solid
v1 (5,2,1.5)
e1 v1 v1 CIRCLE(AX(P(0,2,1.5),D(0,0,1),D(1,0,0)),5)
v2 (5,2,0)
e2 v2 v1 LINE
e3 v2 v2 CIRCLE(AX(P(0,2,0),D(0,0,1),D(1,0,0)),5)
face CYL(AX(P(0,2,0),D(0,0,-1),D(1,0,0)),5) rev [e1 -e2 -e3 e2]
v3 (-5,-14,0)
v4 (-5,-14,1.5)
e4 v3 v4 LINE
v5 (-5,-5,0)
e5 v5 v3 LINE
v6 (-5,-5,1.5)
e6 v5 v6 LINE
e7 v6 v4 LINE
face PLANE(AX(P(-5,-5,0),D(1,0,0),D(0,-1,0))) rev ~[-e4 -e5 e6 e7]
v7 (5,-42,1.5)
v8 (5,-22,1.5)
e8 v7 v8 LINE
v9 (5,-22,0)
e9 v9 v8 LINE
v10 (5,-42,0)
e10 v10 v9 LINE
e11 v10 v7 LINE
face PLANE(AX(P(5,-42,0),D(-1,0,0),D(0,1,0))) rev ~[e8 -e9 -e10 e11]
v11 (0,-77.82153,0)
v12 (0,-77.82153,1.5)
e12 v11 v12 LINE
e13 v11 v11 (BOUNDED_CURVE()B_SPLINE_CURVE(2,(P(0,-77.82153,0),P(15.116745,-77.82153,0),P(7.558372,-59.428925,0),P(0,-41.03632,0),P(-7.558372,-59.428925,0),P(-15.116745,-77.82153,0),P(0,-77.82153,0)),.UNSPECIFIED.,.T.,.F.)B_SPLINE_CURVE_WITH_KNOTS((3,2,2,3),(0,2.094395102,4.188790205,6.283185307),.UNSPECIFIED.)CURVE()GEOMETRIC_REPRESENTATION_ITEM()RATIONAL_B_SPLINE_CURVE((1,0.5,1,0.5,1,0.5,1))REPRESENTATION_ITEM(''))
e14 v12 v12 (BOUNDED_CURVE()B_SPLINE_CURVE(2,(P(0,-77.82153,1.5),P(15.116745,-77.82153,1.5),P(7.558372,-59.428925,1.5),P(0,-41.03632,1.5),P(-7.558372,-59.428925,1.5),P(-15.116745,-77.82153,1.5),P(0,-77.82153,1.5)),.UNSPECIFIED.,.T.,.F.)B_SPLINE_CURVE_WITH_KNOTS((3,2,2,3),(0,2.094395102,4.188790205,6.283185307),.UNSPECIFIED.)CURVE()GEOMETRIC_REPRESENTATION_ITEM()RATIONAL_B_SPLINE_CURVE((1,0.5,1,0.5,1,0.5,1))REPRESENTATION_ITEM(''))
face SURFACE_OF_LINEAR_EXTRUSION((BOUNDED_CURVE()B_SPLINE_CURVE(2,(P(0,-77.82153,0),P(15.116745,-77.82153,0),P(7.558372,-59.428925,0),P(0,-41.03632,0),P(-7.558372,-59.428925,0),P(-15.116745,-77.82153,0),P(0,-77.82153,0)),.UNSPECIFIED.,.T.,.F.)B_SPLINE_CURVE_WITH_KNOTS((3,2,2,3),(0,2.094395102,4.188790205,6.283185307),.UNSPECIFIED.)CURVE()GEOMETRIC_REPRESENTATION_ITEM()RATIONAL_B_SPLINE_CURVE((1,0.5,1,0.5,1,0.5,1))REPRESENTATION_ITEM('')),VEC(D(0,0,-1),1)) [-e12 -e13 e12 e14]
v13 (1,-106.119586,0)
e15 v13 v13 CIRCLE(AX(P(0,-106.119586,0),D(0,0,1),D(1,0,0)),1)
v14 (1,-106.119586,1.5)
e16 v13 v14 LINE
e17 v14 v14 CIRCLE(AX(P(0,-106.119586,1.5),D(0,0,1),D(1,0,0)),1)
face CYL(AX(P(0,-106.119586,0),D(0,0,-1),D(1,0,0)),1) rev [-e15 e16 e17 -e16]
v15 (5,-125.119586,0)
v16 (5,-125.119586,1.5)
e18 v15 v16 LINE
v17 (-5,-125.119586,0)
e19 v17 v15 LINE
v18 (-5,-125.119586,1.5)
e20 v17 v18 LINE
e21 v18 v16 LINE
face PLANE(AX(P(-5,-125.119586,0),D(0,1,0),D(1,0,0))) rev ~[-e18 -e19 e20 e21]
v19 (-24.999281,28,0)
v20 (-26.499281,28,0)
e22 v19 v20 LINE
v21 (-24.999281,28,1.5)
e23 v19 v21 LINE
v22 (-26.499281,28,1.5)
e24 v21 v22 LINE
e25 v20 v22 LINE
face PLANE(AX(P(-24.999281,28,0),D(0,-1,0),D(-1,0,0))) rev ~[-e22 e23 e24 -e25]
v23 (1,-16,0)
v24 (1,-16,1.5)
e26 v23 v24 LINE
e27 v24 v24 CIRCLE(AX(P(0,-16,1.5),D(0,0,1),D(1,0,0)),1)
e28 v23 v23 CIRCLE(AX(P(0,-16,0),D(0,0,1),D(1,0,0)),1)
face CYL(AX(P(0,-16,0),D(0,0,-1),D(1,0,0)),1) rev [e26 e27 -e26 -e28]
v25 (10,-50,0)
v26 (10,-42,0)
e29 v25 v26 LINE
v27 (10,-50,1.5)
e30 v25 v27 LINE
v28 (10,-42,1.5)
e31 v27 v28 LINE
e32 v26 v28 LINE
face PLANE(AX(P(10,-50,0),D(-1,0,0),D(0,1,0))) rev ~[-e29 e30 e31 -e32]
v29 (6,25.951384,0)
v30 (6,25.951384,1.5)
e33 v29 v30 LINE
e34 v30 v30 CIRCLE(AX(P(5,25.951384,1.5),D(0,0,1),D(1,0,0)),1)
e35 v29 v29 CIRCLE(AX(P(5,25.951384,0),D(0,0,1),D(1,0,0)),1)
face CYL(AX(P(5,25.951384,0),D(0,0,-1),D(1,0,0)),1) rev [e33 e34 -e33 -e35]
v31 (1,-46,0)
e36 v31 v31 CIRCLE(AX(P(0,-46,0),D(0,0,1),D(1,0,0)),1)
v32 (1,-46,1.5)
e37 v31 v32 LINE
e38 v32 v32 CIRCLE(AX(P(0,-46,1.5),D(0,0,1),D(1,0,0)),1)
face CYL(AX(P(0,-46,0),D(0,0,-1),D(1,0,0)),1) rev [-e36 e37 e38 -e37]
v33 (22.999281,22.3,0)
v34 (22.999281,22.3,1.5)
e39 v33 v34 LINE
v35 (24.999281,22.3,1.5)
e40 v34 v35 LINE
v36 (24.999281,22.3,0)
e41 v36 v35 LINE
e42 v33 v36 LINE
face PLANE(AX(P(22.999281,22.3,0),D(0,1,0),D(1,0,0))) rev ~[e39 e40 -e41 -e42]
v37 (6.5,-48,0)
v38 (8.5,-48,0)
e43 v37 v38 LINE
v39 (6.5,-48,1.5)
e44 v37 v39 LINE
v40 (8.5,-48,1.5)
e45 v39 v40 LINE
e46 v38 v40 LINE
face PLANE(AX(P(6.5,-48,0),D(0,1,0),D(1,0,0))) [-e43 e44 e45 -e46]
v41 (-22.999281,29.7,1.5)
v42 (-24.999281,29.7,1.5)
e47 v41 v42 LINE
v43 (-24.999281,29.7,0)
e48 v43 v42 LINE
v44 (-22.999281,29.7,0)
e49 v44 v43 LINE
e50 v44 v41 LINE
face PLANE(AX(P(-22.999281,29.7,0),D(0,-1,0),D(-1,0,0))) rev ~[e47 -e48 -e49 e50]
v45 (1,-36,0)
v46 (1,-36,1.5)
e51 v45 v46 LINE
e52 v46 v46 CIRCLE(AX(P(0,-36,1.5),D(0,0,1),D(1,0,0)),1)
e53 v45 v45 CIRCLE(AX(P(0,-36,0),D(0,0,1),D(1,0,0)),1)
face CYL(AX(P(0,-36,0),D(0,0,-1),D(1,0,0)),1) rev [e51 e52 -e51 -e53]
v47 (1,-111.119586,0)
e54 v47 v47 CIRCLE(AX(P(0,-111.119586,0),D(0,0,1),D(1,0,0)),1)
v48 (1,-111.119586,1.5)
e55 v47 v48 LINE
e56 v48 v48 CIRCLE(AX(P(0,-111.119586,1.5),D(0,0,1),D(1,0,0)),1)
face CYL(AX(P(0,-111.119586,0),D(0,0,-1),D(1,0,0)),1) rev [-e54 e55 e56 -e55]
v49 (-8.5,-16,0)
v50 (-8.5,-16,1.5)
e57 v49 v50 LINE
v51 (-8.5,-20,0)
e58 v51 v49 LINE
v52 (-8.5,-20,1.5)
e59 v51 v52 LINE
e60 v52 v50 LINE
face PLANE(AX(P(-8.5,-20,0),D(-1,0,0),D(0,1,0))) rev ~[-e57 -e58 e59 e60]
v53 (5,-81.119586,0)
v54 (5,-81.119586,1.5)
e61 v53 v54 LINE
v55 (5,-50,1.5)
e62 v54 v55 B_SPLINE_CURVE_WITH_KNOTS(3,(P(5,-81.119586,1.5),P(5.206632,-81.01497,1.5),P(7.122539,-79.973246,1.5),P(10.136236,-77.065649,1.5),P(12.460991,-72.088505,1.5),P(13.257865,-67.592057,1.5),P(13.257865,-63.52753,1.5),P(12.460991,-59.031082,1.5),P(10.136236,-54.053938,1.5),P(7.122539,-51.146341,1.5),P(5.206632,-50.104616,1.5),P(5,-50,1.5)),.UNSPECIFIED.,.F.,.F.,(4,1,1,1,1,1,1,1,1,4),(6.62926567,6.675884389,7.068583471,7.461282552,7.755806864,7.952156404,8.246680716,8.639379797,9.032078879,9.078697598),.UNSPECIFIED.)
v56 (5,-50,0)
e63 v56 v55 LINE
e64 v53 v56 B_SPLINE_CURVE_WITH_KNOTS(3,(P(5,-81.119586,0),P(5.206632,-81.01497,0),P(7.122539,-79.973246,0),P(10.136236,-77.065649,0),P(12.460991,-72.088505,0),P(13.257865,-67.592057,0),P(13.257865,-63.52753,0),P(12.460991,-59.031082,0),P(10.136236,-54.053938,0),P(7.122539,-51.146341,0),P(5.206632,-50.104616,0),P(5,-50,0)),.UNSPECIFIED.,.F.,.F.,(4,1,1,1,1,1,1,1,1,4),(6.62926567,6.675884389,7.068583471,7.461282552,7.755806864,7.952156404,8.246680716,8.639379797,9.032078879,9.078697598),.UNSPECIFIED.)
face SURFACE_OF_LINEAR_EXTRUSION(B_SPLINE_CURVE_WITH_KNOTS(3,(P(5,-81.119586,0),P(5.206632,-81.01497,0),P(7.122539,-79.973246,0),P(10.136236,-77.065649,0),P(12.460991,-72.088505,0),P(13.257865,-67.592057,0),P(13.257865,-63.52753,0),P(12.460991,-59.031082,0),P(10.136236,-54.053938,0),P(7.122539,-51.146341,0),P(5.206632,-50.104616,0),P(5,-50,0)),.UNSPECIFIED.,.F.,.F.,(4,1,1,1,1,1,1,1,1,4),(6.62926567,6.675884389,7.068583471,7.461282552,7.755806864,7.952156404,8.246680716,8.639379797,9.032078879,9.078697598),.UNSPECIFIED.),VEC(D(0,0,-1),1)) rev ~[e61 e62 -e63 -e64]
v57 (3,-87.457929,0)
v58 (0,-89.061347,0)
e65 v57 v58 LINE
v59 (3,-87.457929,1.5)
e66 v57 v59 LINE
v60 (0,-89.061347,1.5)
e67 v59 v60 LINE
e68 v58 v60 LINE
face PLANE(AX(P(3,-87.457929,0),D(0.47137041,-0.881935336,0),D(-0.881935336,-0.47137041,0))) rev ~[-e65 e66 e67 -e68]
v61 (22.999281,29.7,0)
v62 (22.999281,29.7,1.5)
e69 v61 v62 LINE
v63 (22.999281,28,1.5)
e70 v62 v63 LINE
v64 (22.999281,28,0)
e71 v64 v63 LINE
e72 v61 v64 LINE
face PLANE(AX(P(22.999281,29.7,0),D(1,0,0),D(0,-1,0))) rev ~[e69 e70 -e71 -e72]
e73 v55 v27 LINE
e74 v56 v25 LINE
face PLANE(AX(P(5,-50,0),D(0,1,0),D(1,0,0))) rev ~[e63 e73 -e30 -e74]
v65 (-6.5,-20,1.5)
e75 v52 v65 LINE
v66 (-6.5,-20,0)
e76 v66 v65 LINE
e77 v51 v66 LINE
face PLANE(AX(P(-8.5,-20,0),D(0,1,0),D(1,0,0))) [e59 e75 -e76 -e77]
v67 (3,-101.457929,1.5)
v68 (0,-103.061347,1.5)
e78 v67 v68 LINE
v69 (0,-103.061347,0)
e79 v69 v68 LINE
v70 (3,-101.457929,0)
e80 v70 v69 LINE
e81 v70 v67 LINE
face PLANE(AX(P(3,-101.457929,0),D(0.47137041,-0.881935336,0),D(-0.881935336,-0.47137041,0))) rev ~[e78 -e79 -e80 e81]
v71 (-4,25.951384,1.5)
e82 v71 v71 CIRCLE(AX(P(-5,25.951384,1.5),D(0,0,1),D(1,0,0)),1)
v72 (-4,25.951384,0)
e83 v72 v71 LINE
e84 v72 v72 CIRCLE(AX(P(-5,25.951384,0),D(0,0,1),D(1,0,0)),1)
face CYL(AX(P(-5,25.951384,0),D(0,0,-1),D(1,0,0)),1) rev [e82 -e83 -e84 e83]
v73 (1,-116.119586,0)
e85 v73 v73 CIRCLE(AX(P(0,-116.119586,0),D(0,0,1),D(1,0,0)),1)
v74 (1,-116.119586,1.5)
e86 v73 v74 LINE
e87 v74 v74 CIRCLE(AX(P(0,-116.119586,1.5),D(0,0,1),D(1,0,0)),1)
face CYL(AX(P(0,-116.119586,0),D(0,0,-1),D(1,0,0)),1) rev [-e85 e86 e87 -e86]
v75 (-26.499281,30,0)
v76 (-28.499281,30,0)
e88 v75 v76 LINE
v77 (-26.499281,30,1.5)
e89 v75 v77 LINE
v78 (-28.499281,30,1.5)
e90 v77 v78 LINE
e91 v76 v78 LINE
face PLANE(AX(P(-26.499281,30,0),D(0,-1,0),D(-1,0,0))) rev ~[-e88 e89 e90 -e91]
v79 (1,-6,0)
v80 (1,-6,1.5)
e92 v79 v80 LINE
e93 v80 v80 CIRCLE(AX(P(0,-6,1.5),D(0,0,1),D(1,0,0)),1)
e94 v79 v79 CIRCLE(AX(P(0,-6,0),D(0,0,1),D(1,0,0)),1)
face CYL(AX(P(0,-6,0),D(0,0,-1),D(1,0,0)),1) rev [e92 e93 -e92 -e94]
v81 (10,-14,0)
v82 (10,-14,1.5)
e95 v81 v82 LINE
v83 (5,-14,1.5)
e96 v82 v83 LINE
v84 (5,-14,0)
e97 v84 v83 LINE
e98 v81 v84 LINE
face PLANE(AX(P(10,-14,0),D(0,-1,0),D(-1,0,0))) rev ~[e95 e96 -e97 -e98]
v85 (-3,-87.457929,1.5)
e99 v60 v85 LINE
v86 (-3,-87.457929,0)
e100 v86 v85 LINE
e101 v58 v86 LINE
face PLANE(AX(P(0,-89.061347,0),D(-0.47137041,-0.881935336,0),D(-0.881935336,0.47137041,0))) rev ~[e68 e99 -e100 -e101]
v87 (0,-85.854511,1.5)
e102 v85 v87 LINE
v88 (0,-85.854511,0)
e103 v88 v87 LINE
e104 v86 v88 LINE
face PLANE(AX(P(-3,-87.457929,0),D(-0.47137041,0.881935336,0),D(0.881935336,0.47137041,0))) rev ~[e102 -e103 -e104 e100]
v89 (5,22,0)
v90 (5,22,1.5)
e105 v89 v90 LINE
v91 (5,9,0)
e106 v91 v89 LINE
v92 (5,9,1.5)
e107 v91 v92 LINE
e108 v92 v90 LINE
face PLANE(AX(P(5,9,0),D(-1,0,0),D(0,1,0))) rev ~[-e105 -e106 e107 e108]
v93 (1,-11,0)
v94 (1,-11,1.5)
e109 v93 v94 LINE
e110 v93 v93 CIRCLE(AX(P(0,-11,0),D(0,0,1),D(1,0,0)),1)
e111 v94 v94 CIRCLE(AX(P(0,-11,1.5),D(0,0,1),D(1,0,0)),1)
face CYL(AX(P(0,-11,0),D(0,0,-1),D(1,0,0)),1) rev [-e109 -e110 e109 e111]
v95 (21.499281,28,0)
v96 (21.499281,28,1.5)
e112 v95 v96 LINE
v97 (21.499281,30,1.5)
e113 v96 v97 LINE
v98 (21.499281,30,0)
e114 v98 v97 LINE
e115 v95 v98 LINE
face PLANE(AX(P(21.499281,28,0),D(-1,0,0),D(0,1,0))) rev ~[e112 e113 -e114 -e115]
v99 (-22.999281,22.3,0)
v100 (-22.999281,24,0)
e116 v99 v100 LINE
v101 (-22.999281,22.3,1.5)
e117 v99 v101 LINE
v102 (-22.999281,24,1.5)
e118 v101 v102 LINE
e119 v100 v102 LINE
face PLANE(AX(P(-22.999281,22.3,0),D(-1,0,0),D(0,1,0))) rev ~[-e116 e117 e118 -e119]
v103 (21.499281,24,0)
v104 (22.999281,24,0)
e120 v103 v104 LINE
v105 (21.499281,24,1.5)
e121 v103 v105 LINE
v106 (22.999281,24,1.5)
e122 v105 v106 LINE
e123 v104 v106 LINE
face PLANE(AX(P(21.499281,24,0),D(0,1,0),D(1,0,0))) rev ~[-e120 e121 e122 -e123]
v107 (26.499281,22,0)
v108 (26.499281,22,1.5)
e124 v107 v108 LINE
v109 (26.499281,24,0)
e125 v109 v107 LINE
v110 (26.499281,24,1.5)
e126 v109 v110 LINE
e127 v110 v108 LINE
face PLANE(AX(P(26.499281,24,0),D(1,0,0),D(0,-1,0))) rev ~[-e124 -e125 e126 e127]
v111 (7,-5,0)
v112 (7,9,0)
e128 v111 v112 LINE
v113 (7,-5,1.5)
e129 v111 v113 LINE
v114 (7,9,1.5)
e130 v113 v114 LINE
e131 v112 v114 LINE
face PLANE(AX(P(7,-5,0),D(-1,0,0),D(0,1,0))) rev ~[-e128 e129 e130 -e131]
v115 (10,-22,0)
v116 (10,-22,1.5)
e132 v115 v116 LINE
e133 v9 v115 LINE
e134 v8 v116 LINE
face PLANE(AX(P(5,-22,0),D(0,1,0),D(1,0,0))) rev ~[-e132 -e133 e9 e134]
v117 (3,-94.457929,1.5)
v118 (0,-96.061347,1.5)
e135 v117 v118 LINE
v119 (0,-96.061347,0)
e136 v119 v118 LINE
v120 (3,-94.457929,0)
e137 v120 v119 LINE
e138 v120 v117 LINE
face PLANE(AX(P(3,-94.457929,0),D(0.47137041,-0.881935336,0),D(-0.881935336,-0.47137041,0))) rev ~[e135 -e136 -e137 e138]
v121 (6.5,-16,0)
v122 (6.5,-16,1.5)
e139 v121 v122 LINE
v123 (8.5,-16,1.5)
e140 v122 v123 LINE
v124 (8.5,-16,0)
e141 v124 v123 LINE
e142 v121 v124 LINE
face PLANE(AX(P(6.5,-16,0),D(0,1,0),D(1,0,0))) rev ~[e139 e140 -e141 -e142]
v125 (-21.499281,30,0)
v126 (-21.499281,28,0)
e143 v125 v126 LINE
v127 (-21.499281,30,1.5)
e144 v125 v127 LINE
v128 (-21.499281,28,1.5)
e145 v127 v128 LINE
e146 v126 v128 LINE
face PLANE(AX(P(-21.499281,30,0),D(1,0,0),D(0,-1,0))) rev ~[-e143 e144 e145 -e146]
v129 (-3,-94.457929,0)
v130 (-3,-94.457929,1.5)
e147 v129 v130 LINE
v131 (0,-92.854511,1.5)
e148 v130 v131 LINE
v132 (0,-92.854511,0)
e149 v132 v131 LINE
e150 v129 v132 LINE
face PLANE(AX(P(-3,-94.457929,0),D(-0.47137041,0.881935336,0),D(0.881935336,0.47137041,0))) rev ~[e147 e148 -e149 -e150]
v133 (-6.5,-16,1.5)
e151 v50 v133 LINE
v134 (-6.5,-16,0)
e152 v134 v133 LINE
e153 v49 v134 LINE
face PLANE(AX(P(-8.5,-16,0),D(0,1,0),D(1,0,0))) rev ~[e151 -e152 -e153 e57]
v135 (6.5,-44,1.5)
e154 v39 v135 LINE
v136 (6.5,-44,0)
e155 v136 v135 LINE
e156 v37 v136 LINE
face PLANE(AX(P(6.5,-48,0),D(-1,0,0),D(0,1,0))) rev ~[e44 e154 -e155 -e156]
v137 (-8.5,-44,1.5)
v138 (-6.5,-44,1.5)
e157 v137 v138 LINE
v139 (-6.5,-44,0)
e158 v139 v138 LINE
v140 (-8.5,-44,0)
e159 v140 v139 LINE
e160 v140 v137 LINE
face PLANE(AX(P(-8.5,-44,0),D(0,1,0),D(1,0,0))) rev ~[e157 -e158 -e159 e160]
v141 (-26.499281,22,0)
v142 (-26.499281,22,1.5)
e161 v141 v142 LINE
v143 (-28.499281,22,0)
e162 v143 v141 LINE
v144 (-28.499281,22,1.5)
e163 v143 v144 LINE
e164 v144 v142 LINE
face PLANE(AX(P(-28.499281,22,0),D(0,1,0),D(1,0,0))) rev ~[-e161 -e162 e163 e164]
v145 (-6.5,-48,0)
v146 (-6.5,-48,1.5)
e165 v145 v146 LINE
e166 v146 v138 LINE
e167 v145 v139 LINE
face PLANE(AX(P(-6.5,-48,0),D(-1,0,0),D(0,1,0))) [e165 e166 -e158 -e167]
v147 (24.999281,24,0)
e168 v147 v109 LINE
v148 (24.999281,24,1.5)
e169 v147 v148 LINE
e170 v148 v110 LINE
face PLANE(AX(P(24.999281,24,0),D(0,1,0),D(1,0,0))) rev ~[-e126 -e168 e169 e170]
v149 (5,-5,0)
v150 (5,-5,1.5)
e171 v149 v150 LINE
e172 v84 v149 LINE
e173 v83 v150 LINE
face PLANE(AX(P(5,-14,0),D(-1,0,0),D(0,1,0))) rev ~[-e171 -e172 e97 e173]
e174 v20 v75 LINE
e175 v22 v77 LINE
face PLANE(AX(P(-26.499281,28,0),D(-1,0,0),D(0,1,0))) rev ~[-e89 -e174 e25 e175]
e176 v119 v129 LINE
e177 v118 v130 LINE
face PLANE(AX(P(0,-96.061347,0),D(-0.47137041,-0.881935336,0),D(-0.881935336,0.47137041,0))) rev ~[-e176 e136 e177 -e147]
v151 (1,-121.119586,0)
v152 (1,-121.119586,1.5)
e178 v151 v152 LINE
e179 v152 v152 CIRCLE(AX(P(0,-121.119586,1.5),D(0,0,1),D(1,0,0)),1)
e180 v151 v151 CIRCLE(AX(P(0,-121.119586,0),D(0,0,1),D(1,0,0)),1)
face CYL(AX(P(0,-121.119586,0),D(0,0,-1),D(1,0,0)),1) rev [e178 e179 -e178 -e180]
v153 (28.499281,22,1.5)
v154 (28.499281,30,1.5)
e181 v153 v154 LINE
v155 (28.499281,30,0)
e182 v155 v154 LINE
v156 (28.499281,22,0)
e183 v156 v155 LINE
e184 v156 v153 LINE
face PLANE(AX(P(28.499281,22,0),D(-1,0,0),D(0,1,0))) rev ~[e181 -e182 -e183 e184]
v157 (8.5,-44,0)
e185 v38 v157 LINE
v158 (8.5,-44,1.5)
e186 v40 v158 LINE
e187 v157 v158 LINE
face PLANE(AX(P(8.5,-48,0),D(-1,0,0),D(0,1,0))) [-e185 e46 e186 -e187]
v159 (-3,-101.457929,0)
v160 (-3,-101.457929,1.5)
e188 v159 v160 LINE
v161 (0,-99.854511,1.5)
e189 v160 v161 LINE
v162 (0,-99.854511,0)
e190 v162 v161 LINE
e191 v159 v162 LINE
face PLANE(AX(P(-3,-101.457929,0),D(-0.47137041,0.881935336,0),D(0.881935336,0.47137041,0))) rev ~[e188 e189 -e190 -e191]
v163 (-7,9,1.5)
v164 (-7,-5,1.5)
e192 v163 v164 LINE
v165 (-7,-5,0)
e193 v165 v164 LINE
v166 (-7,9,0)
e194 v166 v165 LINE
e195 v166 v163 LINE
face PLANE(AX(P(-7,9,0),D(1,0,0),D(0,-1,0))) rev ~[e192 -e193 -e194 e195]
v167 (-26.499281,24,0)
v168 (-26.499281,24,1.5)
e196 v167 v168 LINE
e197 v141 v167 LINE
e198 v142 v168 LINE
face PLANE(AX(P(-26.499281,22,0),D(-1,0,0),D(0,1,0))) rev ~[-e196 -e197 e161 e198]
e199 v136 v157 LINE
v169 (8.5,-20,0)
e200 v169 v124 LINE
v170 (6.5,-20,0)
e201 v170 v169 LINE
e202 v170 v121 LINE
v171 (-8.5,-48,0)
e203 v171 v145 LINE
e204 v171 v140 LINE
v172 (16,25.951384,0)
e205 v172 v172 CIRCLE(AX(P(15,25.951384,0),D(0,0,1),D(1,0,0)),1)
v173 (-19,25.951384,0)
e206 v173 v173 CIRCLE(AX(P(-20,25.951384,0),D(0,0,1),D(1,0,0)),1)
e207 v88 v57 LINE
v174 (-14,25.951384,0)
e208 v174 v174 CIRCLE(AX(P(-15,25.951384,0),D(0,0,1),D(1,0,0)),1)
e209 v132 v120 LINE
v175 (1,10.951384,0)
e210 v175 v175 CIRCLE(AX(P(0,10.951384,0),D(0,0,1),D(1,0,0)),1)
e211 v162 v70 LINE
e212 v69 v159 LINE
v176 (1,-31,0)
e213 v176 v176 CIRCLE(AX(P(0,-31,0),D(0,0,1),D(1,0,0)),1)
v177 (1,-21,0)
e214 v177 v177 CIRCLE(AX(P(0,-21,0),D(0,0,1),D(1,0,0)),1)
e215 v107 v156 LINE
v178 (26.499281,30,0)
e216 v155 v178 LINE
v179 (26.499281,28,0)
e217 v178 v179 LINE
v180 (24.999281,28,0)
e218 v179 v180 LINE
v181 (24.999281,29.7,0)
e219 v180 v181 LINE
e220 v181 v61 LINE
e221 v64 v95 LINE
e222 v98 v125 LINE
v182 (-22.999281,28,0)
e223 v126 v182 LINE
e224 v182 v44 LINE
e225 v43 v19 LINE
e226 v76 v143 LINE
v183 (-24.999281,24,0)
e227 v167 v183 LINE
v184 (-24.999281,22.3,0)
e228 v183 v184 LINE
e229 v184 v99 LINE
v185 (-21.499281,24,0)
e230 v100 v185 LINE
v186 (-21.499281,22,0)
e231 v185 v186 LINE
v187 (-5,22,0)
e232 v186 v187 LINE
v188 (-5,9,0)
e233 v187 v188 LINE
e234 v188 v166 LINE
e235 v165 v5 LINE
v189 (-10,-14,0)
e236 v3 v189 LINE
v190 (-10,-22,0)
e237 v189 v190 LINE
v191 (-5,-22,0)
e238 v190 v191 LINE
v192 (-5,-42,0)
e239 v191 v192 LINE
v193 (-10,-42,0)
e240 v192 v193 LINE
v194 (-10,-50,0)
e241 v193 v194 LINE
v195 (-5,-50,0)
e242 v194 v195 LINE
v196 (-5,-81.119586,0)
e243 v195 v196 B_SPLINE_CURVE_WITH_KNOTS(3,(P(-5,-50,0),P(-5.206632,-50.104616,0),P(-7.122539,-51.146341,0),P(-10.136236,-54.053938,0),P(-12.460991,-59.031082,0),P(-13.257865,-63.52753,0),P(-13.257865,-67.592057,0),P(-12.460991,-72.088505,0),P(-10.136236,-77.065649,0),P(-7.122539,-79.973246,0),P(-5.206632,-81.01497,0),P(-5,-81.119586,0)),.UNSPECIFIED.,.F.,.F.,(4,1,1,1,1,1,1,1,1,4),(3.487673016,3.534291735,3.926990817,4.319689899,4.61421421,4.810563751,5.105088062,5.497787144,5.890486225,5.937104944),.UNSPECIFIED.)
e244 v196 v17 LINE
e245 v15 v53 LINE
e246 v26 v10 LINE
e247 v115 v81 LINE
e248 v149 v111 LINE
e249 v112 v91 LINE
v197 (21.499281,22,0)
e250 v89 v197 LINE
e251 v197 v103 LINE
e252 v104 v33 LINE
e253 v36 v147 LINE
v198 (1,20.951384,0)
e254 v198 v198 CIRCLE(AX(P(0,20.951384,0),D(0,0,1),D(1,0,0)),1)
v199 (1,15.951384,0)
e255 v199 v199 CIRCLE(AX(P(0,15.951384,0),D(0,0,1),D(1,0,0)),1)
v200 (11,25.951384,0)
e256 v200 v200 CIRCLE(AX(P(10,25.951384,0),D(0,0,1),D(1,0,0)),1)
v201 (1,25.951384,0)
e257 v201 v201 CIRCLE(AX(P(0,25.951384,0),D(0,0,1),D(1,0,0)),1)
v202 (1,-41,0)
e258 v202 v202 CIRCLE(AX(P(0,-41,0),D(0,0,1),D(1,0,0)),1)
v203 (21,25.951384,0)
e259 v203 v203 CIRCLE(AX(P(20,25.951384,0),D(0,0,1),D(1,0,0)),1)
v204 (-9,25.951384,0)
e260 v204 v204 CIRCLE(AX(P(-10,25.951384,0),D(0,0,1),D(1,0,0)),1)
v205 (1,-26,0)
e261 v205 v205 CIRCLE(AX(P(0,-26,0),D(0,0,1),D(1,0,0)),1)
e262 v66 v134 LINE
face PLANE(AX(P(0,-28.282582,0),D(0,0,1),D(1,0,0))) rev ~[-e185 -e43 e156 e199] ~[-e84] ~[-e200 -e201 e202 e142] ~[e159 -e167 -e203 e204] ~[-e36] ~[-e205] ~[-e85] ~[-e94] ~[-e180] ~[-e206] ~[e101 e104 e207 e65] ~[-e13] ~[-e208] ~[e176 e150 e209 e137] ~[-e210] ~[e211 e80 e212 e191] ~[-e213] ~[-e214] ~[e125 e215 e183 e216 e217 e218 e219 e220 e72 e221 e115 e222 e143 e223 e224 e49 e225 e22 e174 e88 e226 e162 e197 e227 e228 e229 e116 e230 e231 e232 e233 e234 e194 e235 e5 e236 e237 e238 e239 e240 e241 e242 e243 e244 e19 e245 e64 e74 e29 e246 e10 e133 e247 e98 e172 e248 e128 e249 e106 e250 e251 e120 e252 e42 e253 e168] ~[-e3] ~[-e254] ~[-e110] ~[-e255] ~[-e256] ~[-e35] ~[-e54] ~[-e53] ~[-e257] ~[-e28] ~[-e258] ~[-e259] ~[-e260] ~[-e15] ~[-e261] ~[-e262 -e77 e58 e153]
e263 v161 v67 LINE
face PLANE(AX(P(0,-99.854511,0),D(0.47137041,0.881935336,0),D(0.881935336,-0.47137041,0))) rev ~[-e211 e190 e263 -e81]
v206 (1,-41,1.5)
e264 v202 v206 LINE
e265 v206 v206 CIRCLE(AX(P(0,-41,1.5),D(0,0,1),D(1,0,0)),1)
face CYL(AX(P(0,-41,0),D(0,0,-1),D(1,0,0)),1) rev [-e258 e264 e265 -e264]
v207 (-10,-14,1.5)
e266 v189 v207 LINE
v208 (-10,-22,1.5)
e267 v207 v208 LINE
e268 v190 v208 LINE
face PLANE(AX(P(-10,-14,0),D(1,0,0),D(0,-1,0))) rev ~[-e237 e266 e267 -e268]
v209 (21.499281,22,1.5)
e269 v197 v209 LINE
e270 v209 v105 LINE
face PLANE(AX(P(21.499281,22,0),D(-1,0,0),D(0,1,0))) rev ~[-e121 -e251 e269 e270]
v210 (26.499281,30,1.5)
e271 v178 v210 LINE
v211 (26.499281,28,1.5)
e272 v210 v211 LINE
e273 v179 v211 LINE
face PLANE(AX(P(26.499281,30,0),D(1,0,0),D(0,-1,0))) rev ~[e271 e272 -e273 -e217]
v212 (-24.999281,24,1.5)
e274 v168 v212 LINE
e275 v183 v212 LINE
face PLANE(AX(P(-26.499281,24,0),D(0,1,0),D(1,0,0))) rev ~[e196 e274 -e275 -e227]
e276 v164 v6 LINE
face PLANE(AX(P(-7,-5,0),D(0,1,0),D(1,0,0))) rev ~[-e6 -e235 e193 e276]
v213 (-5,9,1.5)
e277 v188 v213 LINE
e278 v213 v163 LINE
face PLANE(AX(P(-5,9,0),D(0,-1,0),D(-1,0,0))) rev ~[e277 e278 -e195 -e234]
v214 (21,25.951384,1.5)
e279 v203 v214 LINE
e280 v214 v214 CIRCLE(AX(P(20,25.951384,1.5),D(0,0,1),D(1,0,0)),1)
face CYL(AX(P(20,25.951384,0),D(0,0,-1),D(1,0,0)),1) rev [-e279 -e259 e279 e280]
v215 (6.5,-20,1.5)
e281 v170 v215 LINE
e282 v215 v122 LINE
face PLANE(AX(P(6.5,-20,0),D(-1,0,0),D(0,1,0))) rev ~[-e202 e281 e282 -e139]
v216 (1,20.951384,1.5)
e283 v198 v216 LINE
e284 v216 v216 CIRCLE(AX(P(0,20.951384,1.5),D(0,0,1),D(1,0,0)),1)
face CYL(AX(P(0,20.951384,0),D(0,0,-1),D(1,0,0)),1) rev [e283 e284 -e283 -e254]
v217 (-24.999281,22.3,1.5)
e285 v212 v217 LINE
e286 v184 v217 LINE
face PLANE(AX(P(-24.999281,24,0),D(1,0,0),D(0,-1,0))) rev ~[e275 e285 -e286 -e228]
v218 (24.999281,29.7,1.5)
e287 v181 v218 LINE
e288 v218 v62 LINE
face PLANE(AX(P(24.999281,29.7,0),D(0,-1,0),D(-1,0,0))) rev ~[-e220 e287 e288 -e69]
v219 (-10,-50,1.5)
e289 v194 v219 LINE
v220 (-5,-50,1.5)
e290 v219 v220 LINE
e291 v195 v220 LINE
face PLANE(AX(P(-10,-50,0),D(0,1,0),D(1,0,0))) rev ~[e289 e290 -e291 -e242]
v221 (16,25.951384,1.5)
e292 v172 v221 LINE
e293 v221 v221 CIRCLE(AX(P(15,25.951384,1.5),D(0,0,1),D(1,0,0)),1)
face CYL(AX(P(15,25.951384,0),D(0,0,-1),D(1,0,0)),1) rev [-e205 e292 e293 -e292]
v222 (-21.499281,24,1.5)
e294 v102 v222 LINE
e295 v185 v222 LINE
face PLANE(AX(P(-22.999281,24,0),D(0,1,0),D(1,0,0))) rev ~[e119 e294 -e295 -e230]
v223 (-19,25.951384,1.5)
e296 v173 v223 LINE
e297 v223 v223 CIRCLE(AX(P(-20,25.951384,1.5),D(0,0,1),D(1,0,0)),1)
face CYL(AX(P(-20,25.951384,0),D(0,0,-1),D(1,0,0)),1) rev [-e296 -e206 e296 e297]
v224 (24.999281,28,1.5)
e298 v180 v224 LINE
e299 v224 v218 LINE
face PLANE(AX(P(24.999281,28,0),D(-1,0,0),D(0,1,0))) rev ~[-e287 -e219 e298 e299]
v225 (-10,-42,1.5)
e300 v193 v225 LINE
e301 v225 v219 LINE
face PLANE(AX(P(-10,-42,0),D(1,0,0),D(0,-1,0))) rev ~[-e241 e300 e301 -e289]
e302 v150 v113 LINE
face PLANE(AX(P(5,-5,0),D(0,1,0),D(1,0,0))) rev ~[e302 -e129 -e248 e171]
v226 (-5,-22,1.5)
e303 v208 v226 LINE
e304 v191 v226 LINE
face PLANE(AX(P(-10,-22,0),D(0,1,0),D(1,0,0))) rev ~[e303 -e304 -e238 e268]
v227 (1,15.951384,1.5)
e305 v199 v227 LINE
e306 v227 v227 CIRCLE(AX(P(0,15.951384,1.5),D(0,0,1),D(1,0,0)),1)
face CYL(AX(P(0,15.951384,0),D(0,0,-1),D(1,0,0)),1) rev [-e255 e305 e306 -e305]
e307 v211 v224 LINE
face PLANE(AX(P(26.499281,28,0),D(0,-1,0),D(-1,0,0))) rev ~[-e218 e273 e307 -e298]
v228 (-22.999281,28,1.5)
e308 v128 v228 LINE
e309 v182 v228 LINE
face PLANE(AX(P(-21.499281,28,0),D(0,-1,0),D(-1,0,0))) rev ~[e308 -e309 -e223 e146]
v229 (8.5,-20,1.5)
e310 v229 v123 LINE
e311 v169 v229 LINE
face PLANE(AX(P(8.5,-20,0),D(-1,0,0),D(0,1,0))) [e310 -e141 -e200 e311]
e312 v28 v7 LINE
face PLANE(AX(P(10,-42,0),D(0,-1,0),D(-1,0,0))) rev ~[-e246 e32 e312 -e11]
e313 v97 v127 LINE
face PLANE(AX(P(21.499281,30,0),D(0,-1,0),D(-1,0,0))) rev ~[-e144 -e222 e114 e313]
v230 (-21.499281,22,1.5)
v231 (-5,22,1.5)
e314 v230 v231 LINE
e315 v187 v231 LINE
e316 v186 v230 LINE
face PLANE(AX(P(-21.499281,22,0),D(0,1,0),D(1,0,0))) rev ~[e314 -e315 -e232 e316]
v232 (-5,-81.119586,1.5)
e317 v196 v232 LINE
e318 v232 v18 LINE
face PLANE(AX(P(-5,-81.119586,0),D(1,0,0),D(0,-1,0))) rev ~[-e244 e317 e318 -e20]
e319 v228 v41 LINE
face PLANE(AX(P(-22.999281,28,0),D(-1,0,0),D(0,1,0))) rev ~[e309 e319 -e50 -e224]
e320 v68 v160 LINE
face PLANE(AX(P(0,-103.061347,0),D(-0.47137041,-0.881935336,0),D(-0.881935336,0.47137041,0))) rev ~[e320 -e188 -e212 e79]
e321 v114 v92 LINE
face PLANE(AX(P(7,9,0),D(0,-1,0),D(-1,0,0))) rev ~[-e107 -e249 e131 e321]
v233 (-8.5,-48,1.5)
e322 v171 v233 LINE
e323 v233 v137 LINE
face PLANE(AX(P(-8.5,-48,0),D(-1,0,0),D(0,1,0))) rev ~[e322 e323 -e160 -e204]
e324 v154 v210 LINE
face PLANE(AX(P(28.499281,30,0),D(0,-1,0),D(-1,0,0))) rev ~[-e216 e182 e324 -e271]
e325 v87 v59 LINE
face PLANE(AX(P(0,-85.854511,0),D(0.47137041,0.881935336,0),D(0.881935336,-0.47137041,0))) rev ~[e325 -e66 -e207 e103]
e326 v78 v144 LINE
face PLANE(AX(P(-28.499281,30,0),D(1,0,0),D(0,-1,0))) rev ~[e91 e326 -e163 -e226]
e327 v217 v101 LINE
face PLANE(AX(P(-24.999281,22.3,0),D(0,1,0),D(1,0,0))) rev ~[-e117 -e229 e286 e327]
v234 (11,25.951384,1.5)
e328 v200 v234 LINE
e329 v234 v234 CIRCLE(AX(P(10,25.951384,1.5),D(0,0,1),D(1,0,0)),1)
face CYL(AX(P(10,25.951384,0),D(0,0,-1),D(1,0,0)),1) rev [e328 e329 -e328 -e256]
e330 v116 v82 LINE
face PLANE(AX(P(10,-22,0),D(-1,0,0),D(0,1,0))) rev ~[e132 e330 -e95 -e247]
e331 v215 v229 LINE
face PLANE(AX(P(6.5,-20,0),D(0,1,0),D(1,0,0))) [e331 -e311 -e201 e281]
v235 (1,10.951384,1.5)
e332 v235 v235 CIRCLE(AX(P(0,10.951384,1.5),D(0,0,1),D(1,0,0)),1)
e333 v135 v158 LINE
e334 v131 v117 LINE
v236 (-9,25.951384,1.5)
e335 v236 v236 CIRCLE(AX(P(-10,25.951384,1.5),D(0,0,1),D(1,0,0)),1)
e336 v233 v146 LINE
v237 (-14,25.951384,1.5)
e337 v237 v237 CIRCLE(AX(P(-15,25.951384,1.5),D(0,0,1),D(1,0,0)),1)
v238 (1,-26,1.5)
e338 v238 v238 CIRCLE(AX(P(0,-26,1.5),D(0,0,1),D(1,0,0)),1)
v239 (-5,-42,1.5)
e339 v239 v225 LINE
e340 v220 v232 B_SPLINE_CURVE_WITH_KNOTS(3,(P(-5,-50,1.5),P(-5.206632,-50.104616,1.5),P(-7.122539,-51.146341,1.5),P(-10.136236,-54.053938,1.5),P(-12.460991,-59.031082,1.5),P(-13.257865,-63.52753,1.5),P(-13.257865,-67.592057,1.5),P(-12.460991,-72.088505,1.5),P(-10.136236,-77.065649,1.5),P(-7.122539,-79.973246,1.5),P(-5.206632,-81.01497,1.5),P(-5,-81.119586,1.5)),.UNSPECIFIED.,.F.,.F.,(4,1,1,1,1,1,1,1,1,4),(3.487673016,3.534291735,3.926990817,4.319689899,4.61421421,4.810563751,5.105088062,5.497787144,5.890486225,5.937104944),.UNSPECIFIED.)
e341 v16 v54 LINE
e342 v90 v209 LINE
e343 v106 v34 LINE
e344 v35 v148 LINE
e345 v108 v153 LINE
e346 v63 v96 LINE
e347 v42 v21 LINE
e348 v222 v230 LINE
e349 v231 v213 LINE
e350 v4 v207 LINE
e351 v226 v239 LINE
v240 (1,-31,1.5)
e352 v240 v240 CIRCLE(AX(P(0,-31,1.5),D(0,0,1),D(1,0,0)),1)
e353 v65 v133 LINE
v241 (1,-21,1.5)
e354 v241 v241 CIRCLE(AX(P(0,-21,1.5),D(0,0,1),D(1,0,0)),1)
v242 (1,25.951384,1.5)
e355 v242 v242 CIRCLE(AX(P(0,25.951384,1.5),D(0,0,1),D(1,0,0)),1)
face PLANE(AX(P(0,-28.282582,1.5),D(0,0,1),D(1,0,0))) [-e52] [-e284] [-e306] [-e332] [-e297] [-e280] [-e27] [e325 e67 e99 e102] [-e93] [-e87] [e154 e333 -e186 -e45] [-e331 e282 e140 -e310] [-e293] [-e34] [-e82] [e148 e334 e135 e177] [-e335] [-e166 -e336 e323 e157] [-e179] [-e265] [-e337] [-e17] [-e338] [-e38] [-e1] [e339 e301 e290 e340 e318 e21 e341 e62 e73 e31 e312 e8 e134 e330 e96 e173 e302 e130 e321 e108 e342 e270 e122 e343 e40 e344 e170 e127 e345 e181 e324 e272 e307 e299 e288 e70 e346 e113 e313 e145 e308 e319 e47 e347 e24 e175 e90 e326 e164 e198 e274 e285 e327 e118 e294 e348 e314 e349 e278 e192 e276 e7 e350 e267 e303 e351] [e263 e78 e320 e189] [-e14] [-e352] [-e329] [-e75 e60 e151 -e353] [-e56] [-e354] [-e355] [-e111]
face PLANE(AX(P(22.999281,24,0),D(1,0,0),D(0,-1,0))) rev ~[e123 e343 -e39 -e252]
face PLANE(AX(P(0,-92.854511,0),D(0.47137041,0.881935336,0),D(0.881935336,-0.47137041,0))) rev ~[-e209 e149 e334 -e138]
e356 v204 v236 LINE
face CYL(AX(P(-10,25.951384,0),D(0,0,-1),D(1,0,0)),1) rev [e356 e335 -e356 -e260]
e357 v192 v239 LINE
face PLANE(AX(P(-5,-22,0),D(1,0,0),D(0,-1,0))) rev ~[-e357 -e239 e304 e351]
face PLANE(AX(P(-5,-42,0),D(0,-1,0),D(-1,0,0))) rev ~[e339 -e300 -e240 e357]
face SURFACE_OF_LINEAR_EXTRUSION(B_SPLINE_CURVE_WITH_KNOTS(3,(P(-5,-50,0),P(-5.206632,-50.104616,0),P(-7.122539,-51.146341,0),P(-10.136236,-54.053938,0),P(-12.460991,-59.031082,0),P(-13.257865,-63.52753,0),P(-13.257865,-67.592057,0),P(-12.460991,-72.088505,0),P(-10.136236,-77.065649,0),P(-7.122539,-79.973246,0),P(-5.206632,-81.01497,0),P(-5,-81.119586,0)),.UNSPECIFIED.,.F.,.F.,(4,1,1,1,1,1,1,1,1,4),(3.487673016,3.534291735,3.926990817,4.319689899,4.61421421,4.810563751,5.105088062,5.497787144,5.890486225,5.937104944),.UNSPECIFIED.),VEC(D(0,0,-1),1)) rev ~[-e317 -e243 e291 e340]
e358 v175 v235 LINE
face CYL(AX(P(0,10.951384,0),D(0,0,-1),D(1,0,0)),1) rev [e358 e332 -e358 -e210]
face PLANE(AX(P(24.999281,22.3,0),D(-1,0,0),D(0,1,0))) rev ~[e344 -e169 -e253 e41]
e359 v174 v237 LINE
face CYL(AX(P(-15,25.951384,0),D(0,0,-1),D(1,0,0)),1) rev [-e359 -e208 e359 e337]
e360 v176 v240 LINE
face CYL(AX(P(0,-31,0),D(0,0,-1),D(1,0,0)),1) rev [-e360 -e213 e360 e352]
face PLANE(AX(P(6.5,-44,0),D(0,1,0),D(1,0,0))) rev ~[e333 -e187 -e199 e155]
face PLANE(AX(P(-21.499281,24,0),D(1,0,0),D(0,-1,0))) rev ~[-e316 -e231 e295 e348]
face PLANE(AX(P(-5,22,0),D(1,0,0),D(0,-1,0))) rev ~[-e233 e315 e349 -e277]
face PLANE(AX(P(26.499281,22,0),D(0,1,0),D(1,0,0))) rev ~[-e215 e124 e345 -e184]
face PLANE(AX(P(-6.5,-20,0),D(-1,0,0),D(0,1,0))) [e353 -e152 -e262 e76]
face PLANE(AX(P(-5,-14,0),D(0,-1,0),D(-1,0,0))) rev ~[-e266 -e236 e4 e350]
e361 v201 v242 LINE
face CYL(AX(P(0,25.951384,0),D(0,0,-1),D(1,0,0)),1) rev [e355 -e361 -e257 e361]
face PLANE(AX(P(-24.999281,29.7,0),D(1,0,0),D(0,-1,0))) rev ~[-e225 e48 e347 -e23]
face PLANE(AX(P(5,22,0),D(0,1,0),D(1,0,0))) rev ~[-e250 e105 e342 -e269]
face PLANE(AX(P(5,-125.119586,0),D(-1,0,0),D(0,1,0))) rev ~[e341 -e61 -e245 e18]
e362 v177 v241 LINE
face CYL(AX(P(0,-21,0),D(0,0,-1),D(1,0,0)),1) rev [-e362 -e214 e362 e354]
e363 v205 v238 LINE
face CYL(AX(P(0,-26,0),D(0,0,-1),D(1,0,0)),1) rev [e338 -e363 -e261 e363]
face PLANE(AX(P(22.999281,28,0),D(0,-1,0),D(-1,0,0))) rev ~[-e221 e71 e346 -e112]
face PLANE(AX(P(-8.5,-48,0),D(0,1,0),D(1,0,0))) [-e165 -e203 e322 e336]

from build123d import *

# Parameters (mm, degrees)
SKETCH_1_W      = 2
SKETCH_1_H      = 4
SKETCH_1_R      = 1
SKETCH_1_R_2    = 5
EXTRUDE_1_DEPTH = 1.5


with BuildPart() as part:
    # 草图1 → 凸台-拉伸1 (new body)
    with BuildSketch(Plane.XY):
        with BuildLine():
            Line((21.499281064, 30), (-21.499281064, 30))
            Line((-21.499281064, 30), (-21.499281064, 28))
            Line((-21.499281064, 28), (-22.999281064, 28))
            Line((-22.999281064, 28), (-22.999281064, 29.7))
            Line((-22.999281064, 29.7), (-24.999281064, 29.7))
            Line((-24.999281064, 29.7), (-24.999281064, 28))
            Line((-24.999281064, 28), (-26.499281064, 28))
            Line((-26.499281064, 28), (-26.499281064, 30))
            Line((-26.499281064, 30), (-28.499281064, 30))
            Line((-28.499281064, 30), (-28.499281064, 22))
            Line((-28.499281064, 22), (-26.499281064, 22))
            Line((-26.499281064, 22), (-26.499281064, 24))
            Line((-26.499281064, 24), (-24.999281064, 24))
            Line((-24.999281064, 24), (-24.999281064, 22.3))
            Line((-24.999281064, 22.3), (-22.999281064, 22.3))
            Line((-22.999281064, 22.3), (-22.999281064, 24))
            Line((-22.999281064, 24), (-21.499281064, 24))
            Line((-21.499281064, 24), (-21.499281064, 22))
            Line((-21.499281064, 22), (-5, 22))
            Line((-5, 22), (-5, 9))
            Line((-5, 9), (-7, 9))
            Line((-7, 9), (-7, -5))
            Line((-7, -5), (-5, -5))
            Line((-5, -5), (-5, -14))
            Line((-5, -14), (-10, -14))
            Line((-10, -14), (-10, -22))
            Line((-10, -22), (-5, -22))
            Line((-5, -22), (-5, -42))
            Line((-5, -42), (-10, -42))
            Line((-10, -42), (-10, -50))
            Line((-10, -50), (-5, -50))
            add(Edge.make_bspline(
                [(-5, -50), (-5.206631572, -50.1046163), (-7.122538881, -51.146340962), (-10.136236083, -54.053937604), (-12.460991296, -59.031081614), (-13.257864896, -63.527529667), (-13.257864896, -67.592056821), (-12.460991296, -72.088504874), (-10.136236082, -77.065648884), (-7.122538881, -79.973245525), (-5.206631571, -81.014970188), (-5, -81.119586487)],
                knots=[3.487673016, 3.487673016, 3.487673016, 3.487673016, 3.534291735, 3.926990817, 4.319689899, 4.61421421, 4.810563751, 5.105088062, 5.497787144, 5.890486225, 5.937104944, 5.937104944, 5.937104944, 5.937104944], degree=3))
            Line((-5, -81.119586487), (-5, -125.119586487))
            Line((-5, -125.119586487), (5, -125.119586487))
            Line((5, -125.119586487), (5, -81.119586487))
            add(Edge.make_bspline(
                [(5, -81.119586487), (5.206631572, -81.014970188), (7.122538881, -79.973245525), (10.136236083, -77.065648883), (12.460991296, -72.088504873), (13.257864896, -67.592056821), (13.257864896, -63.527529666), (12.460991296, -59.031081614), (10.136236082, -54.053937604), (7.122538881, -51.146340962), (5.206631571, -50.1046163), (5, -50)],
                knots=[6.62926567, 6.62926567, 6.62926567, 6.62926567, 6.675884389, 7.068583471, 7.461282552, 7.755806864, 7.952156404, 8.246680716, 8.639379797, 9.032078879, 9.078697598, 9.078697598, 9.078697598, 9.078697598], degree=3))
            Line((5, -50), (10, -50))
            Line((10, -50), (10, -42))
            Line((10, -42), (5, -42))
            Line((5, -42), (5, -22))
            Line((5, -22), (10, -22))
            Line((10, -22), (10, -14))
            Line((10, -14), (5, -14))
            Line((5, -14), (5, -5))
            Line((5, -5), (7, -5))
            Line((7, -5), (7, 9))
            Line((7, 9), (5, 9))
            Line((5, 9), (5, 22))
            Line((5, 22), (21.499281064, 22))
            Line((21.499281064, 22), (21.499281064, 24))
            Line((21.499281064, 24), (22.999281064, 24))
            Line((22.999281064, 24), (22.999281064, 22.3))
            Line((22.999281064, 22.3), (24.999281064, 22.3))
            Line((24.999281064, 22.3), (24.999281064, 24))
            Line((24.999281064, 24), (26.499281064, 24))
            Line((26.499281064, 24), (26.499281064, 22))
            Line((26.499281064, 22), (28.499281064, 22))
            Line((28.499281064, 22), (28.499281064, 30))
            Line((28.499281064, 30), (26.499281064, 30))
            Line((26.499281064, 30), (26.499281064, 28))
            Line((26.499281064, 28), (24.999281064, 28))
            Line((24.999281064, 28), (24.999281064, 29.7))
            Line((24.999281064, 29.7), (22.999281064, 29.7))
            Line((22.999281064, 29.7), (22.999281064, 28))
            Line((22.999281064, 28), (21.499281064, 28))
            Line((21.499281064, 28), (21.499281064, 30))
        make_face()
        with Locations((-7.5, -46)):
            Rectangle(SKETCH_1_W, SKETCH_1_H, mode=Mode.SUBTRACT)
        with Locations((0, -46)):
            Circle(SKETCH_1_R, mode=Mode.SUBTRACT)
        with Locations((0, -41)):
            Circle(SKETCH_1_R, mode=Mode.SUBTRACT)
        with Locations((0, -36)):
            Circle(SKETCH_1_R, mode=Mode.SUBTRACT)
        with Locations((0, -31)):
            Circle(SKETCH_1_R, mode=Mode.SUBTRACT)
        with Locations((-7.5, -18)):
            Rectangle(SKETCH_1_W, SKETCH_1_H, mode=Mode.SUBTRACT)
        with Locations((0, -26)):
            Circle(SKETCH_1_R, mode=Mode.SUBTRACT)
        with Locations((0, -21)):
            Circle(SKETCH_1_R, mode=Mode.SUBTRACT)
        with Locations((0, -16)):
            Circle(SKETCH_1_R, mode=Mode.SUBTRACT)
        with Locations((0, -11)):
            Circle(SKETCH_1_R, mode=Mode.SUBTRACT)
        with Locations((-20, 25.95138361)):
            Circle(SKETCH_1_R, mode=Mode.SUBTRACT)
        with Locations((-15, 25.95138361)):
            Circle(SKETCH_1_R, mode=Mode.SUBTRACT)
        with Locations((0, -6)):
            Circle(SKETCH_1_R, mode=Mode.SUBTRACT)
        with Locations((0, 2)):
            Circle(SKETCH_1_R_2, mode=Mode.SUBTRACT)
        with Locations((-10, 25.95138361)):
            Circle(SKETCH_1_R, mode=Mode.SUBTRACT)
        with Locations((-5, 25.95138361)):
            Circle(SKETCH_1_R, mode=Mode.SUBTRACT)
        with Locations((0, 25.95138361)):
            Circle(SKETCH_1_R, mode=Mode.SUBTRACT)
        with Locations((7.5, -46)):
            Rectangle(SKETCH_1_W, SKETCH_1_H, mode=Mode.SUBTRACT)
        with Locations((7.5, -18)):
            Rectangle(SKETCH_1_W, SKETCH_1_H, mode=Mode.SUBTRACT)
        with Locations((0, 10.95138361)):
            Circle(SKETCH_1_R, mode=Mode.SUBTRACT)
        with Locations((0, 15.95138361)):
            Circle(SKETCH_1_R, mode=Mode.SUBTRACT)
        with Locations((0, 20.95138361)):
            Circle(SKETCH_1_R, mode=Mode.SUBTRACT)
        with Locations((5, 25.95138361)):
            Circle(SKETCH_1_R, mode=Mode.SUBTRACT)
        with Locations((10, 25.95138361)):
            Circle(SKETCH_1_R, mode=Mode.SUBTRACT)
        with Locations((15, 25.95138361)):
            Circle(SKETCH_1_R, mode=Mode.SUBTRACT)
        with Locations((20, 25.95138361)):
            Circle(SKETCH_1_R, mode=Mode.SUBTRACT)
        with BuildLine():
            add(Edge.make_bspline(
                [(0, -77.82152984), (15.11674465, -77.82152984), (7.558372325, -59.428924948), (0, -41.036320056), (-7.558372325, -59.428924948), (-15.11674465, -77.82152984), (0, -77.82152984)],
                knots=[0, 0, 0, 2.094395102, 2.094395102, 4.188790205, 4.188790205, 6.283185307, 6.283185307, 6.283185307], degree=2, weights=[1, 0.5, 1, 0.5, 1, 0.5, 1]))
        make_face(mode=Mode.SUBTRACT)
        Polygon((3, -87.457928946), (0, -89.061347215), (-3, -87.457928946), (0, -85.854510677), align=None, mode=Mode.SUBTRACT)
        with Locations((0, -121.119586487)):
            Circle(SKETCH_1_R, mode=Mode.SUBTRACT)
        with Locations((0, -116.119586487)):
            Circle(SKETCH_1_R, mode=Mode.SUBTRACT)
        with Locations((0, -111.119586487)):
            Circle(SKETCH_1_R, mode=Mode.SUBTRACT)
        with Locations((0, -106.119586487)):
            Circle(SKETCH_1_R, mode=Mode.SUBTRACT)
        Polygon((0, -99.854510677), (3, -101.457928946), (0, -103.061347215), (-3, -101.457928946), align=None, mode=Mode.SUBTRACT)
        Polygon((0, -92.854510677), (3, -94.457928946), (0, -96.061347215), (-3, -94.457928946), align=None, mode=Mode.SUBTRACT)
    extrude(amount=EXTRUDE_1_DEPTH)


solid = part.part
